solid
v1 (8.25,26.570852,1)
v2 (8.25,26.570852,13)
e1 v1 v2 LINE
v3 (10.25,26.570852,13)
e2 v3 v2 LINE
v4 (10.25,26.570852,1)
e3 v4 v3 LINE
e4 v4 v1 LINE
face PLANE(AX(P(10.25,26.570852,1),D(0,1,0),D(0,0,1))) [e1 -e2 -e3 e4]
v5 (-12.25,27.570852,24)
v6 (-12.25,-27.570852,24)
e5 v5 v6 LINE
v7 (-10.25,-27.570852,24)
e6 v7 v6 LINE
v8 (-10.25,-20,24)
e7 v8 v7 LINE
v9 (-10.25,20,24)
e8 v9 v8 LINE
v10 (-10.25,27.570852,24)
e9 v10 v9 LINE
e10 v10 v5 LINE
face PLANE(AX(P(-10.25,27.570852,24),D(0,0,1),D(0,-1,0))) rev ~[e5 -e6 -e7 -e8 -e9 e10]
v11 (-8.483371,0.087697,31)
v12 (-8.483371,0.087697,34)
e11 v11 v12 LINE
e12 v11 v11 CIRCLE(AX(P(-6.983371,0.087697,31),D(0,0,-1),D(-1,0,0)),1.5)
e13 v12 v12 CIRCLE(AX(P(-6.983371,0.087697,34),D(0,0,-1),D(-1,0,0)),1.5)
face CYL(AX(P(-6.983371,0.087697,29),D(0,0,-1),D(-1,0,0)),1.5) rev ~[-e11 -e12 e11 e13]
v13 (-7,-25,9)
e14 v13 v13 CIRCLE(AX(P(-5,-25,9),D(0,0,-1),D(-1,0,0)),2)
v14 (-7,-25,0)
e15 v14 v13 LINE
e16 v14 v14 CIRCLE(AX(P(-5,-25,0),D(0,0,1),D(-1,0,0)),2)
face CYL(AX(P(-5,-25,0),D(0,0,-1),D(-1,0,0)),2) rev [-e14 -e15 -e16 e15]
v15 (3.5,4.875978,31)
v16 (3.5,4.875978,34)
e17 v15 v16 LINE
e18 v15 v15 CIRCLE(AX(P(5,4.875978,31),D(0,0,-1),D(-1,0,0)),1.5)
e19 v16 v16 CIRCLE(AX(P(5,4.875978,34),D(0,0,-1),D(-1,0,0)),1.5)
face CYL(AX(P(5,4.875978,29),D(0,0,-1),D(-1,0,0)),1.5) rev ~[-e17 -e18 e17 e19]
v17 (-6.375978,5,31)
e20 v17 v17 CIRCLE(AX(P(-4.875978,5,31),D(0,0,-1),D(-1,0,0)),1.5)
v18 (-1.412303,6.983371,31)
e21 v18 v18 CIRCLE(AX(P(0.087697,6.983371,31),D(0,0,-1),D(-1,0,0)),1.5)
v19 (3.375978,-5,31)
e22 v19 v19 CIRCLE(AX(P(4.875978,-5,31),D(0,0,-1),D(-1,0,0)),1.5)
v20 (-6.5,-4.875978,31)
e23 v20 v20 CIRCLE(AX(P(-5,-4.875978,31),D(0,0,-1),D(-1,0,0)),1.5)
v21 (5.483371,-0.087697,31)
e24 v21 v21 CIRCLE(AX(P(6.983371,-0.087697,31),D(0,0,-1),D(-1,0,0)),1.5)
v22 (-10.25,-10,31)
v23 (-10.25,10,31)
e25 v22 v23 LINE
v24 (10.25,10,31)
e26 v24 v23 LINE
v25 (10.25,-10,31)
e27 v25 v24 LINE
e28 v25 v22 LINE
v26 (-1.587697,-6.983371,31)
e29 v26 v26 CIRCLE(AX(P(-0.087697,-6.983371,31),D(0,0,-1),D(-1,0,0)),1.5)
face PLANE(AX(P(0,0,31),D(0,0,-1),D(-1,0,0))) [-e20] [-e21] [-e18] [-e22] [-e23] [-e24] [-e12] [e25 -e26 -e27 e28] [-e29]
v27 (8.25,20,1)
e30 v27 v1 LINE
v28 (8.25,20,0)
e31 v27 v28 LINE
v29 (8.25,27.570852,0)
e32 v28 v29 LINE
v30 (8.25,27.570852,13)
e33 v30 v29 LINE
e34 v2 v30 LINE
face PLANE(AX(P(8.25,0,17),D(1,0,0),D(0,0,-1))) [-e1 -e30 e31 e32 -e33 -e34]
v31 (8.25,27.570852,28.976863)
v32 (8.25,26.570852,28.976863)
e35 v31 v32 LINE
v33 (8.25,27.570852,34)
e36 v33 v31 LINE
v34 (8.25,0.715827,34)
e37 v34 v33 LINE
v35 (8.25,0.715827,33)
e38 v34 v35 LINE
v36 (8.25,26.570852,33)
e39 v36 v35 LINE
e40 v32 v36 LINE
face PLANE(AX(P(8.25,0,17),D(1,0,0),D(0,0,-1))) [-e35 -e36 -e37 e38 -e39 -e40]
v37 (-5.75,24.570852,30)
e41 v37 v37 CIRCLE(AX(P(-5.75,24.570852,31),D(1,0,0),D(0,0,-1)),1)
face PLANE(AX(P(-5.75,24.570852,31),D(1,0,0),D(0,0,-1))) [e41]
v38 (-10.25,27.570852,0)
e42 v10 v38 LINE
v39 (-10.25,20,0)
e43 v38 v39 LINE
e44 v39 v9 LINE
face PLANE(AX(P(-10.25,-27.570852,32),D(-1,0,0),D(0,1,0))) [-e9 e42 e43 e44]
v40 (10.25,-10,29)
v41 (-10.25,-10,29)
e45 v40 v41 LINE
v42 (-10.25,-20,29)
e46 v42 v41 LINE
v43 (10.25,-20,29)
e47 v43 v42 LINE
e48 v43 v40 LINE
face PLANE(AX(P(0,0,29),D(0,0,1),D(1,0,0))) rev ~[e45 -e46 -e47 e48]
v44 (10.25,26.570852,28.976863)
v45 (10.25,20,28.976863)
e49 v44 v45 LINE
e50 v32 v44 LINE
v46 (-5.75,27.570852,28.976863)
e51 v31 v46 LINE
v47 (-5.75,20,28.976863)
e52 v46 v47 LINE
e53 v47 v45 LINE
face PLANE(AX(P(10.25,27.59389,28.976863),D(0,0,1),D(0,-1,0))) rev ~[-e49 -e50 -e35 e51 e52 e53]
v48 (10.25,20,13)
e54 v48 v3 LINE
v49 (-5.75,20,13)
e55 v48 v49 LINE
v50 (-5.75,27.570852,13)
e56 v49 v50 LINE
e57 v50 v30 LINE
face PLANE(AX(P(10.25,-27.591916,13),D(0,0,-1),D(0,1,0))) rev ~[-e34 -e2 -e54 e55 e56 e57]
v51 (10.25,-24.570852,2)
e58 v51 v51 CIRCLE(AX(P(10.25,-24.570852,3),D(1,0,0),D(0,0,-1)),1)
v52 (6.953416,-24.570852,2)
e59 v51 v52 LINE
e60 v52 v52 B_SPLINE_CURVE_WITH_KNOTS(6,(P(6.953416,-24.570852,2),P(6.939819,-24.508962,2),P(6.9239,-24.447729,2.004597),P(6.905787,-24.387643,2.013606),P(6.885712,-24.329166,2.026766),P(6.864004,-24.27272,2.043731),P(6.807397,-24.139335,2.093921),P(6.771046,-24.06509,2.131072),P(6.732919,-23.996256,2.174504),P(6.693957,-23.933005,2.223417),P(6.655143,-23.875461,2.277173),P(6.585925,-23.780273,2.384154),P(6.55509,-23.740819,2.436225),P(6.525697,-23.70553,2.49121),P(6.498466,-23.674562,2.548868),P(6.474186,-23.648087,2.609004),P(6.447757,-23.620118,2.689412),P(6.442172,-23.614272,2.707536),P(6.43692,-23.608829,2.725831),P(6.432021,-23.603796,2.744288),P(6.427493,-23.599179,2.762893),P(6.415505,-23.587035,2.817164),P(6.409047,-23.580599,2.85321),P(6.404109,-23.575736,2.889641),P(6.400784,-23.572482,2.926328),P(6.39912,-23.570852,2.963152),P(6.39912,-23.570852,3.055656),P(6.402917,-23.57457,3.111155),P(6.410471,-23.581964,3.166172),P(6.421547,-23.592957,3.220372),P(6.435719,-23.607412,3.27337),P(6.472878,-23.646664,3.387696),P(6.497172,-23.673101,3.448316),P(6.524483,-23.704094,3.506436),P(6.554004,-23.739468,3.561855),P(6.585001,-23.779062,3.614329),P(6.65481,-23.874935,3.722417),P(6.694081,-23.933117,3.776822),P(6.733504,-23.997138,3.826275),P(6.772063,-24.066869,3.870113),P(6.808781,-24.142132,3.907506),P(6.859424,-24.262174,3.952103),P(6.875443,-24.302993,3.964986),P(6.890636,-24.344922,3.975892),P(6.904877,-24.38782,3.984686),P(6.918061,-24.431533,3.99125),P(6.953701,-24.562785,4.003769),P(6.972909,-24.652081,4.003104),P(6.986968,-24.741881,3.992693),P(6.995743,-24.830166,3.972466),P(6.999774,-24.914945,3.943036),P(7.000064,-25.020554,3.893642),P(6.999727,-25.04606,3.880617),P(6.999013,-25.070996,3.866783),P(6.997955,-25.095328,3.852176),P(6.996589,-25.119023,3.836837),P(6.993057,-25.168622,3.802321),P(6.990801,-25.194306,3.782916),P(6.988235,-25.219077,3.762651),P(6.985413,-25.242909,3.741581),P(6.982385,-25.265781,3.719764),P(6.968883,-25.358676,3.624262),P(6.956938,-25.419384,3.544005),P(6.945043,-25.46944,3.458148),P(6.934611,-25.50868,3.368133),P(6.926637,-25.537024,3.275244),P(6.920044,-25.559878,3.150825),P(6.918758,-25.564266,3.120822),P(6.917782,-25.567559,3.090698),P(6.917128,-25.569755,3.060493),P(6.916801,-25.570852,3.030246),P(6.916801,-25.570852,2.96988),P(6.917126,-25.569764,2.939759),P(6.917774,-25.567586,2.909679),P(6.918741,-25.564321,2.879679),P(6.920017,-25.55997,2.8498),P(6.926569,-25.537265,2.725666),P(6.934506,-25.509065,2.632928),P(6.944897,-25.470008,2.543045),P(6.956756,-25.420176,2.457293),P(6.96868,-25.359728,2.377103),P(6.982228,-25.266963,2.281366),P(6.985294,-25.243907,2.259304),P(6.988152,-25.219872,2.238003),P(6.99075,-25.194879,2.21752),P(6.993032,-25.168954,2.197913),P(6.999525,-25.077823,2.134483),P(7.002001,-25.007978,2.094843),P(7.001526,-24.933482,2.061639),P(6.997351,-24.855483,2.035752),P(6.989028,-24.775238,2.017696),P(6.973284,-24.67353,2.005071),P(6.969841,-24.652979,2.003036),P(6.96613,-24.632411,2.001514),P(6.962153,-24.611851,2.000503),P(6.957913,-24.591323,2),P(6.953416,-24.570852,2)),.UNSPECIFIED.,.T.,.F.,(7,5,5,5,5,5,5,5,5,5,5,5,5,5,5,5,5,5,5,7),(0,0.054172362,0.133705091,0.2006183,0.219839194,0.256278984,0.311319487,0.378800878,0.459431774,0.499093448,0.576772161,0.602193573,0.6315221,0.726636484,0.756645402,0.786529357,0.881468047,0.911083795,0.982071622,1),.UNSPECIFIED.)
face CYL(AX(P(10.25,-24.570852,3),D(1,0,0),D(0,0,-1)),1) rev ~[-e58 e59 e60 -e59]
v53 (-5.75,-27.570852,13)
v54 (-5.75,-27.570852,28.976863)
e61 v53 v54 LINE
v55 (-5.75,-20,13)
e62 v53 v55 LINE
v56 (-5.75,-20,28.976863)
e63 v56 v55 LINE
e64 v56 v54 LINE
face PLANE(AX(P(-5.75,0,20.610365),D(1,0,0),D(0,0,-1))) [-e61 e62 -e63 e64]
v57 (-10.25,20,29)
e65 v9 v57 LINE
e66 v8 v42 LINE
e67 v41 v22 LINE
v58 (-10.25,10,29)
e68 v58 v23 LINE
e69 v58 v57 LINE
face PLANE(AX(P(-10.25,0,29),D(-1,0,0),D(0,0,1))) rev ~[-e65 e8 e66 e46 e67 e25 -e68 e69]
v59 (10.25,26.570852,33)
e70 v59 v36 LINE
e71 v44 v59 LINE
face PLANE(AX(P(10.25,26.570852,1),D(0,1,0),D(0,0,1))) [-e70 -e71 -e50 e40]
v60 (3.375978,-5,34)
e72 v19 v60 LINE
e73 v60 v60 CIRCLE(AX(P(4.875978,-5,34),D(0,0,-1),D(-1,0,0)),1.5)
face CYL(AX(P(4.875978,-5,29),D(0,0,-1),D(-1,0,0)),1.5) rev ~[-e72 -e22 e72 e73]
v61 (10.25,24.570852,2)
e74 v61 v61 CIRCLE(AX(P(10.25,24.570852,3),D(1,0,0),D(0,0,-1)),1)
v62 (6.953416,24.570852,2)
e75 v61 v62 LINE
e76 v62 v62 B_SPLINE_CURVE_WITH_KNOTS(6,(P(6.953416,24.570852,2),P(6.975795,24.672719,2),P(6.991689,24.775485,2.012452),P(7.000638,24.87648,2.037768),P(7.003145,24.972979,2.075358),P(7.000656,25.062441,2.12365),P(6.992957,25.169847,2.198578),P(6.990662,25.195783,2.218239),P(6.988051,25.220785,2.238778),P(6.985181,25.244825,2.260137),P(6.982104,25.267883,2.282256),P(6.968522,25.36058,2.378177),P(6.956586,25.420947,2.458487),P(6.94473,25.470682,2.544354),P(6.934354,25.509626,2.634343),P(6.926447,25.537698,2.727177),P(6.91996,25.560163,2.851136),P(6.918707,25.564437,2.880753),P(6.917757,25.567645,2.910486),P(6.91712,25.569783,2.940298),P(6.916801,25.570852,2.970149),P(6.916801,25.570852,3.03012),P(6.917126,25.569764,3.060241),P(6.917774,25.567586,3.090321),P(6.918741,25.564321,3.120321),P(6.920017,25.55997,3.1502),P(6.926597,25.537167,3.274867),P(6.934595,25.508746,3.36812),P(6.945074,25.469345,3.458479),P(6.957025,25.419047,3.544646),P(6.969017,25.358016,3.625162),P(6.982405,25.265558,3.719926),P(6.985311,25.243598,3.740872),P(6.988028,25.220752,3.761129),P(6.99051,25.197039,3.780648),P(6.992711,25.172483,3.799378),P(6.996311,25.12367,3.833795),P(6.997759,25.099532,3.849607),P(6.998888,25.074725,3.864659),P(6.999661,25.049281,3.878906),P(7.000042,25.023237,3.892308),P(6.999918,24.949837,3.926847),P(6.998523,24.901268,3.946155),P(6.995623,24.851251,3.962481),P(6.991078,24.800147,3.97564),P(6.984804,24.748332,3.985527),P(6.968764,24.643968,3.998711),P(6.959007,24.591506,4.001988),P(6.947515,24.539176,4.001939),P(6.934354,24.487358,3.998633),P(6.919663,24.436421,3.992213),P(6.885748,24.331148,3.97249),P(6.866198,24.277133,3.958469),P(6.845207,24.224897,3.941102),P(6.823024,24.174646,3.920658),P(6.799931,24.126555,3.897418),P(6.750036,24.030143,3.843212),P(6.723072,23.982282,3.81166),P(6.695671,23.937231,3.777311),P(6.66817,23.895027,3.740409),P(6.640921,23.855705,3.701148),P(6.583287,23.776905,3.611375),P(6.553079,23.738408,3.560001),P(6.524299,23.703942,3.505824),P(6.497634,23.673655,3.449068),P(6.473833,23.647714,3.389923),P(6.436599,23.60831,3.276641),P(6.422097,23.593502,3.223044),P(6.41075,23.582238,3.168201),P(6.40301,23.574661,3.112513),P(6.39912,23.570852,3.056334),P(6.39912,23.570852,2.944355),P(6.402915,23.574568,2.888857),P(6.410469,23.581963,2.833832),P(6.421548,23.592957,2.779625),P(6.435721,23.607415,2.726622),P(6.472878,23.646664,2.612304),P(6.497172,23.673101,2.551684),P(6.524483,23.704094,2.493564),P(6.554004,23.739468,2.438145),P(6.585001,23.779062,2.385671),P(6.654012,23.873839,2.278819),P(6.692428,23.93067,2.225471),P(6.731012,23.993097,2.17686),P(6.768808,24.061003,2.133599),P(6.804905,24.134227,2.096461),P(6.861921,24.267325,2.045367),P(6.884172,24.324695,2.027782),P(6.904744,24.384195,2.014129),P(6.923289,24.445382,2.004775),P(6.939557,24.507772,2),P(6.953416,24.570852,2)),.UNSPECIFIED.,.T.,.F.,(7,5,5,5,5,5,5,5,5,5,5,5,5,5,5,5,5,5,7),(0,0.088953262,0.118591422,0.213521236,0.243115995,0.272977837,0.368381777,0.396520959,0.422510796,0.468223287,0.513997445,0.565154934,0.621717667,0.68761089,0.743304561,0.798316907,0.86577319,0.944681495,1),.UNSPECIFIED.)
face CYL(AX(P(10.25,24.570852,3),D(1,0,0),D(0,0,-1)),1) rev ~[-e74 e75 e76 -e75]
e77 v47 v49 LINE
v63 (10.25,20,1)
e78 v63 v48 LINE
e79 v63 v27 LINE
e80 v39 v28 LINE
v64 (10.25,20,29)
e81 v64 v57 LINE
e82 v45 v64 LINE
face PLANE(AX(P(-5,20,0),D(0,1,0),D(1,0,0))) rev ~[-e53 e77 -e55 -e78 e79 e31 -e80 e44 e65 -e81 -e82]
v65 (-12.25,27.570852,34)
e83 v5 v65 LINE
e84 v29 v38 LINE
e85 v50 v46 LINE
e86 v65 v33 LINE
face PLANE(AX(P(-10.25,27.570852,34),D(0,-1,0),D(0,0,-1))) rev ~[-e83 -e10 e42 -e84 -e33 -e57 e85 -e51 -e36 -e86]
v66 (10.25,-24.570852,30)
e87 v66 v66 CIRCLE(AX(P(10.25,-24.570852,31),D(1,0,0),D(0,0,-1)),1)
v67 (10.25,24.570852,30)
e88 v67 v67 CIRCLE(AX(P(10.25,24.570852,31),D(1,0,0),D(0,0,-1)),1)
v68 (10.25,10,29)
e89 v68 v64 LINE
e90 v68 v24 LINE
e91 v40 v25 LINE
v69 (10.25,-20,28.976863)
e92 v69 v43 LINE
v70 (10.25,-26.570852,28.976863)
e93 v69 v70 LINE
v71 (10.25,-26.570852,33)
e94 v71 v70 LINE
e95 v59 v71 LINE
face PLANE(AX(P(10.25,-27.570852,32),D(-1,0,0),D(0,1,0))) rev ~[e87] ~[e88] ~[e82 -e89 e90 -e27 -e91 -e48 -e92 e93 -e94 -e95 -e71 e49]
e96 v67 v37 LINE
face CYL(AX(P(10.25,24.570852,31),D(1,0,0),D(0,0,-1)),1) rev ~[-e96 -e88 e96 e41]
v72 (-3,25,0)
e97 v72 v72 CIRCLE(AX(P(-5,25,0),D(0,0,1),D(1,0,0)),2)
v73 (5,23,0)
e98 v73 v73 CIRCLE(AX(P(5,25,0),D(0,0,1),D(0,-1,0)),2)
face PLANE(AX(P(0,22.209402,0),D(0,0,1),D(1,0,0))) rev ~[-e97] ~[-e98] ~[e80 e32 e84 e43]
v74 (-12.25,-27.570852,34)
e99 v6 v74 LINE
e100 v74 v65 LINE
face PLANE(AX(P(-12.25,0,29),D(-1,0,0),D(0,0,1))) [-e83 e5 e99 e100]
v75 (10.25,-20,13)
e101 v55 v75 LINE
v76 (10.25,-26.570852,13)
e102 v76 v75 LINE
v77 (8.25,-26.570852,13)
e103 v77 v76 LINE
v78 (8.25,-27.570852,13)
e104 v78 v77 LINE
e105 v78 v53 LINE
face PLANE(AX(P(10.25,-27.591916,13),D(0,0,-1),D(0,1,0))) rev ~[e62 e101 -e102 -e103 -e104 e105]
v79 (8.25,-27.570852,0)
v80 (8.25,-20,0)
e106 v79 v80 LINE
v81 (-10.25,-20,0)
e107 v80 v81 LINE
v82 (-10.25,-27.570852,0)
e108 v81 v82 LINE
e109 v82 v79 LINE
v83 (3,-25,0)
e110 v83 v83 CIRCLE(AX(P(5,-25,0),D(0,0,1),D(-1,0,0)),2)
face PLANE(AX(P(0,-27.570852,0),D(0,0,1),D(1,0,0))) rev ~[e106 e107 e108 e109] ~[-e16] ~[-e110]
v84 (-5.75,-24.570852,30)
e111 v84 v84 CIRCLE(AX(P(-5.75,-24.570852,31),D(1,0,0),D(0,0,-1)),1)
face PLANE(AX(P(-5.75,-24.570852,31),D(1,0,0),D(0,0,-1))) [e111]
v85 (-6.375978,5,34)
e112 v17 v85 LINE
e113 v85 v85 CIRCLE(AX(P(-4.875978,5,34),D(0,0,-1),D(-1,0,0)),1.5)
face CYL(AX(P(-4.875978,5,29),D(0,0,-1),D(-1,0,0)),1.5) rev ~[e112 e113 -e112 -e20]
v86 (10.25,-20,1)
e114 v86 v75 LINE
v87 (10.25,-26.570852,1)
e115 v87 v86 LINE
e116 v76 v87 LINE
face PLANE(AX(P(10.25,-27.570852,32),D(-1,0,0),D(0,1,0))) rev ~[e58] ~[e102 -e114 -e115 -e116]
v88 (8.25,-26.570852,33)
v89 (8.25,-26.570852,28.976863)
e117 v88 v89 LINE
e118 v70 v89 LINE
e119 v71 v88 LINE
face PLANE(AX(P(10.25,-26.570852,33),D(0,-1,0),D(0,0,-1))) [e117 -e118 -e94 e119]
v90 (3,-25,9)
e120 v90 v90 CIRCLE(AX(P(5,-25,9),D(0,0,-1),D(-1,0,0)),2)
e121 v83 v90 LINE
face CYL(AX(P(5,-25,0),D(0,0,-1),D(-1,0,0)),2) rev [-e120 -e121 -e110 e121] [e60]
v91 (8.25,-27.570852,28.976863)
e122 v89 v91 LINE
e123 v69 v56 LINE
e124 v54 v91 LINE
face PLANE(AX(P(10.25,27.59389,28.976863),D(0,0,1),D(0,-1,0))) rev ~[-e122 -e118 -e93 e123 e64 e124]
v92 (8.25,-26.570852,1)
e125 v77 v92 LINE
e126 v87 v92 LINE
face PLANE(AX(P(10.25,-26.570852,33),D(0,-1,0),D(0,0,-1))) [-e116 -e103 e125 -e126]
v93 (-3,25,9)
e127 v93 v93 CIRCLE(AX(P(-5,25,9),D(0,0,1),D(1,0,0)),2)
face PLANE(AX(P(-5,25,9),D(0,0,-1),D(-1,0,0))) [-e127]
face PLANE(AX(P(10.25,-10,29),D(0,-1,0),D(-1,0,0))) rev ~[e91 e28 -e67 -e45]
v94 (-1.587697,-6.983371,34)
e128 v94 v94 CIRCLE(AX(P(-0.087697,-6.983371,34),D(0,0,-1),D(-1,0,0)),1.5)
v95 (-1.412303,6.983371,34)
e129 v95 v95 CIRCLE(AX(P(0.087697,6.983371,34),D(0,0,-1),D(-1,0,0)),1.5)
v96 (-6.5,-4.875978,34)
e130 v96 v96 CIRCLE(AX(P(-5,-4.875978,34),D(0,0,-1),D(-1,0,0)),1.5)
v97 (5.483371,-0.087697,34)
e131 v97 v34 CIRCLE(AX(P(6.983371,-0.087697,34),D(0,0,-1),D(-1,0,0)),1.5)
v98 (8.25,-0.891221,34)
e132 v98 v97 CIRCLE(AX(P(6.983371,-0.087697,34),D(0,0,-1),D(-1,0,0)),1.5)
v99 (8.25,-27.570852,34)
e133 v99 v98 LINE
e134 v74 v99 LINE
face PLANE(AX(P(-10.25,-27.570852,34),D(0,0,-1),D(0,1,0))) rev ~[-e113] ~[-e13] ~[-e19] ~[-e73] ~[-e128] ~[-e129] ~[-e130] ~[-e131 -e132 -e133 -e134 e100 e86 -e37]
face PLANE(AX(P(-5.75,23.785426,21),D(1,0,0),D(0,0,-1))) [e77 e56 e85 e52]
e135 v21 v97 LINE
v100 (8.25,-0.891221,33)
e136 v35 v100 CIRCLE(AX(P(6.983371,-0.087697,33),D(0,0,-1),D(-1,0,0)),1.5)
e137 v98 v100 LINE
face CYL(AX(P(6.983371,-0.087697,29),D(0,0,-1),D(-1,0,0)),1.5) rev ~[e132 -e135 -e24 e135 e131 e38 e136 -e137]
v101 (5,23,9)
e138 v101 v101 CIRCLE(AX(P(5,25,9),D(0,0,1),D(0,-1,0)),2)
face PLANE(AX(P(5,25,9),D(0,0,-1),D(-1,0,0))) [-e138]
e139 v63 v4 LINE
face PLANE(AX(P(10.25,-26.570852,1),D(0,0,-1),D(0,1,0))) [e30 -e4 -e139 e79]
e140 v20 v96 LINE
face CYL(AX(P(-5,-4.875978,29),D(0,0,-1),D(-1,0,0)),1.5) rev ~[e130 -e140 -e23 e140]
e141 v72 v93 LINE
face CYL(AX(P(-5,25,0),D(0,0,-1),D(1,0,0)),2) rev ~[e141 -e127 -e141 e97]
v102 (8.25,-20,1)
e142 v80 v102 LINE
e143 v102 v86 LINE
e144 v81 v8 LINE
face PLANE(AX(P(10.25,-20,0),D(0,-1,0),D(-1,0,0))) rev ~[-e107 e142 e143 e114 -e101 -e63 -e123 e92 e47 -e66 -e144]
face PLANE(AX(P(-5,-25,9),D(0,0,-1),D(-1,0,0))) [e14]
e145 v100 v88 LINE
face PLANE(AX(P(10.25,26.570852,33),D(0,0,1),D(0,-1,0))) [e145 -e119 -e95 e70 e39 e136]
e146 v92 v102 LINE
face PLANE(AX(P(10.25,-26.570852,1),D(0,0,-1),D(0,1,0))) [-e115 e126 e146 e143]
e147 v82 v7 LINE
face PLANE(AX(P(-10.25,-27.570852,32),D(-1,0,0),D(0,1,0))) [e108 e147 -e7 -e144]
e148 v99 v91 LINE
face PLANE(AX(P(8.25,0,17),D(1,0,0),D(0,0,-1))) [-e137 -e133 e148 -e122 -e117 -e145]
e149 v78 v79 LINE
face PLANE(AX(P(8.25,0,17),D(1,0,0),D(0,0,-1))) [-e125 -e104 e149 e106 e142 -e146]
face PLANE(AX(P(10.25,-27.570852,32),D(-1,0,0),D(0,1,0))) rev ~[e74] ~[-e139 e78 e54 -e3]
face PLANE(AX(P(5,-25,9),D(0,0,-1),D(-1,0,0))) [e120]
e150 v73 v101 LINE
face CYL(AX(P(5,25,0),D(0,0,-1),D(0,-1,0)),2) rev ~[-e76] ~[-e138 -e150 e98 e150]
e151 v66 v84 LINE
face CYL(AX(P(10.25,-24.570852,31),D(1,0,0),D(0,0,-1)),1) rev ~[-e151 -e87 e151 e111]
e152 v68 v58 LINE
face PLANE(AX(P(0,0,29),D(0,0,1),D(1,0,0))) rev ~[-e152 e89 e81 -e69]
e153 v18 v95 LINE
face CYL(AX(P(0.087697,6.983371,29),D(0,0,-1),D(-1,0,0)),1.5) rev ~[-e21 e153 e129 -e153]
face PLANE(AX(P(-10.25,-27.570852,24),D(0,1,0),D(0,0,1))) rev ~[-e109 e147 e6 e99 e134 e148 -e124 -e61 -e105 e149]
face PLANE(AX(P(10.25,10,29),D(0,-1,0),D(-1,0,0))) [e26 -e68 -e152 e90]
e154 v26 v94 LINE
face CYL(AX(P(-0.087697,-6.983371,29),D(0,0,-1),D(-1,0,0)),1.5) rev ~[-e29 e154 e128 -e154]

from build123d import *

# Parameters (mm, degrees)
SKETCH_1_R           = 2.000000000000001
EXTRUDE_1_DEPTH      = 29
SKETCH_2_W           = 20.5
SKETCH_2_H           = 70.28340969233892
EXTRUDE_2_DEPTH      = 3
SKETCH_3_W           = 20.5
SKETCH_3_H           = 7.570852423084727
CUT_EXTRUDE_1_DEPTH  = 49.62100286394029
SKETCH_5_R           = 2.5
EXTRUDE_3_DEPTH      = 10
CUT_EXTRUDE_2_REACH  = 75.297
SKETCH_8_R           = 1.6000000000000003
SKETCH_9_W           = 20.5
SKETCH_9_H           = 32
CUT_EXTRUDE_3_DEPTH  = 65.57298284377197
SKETCH_12_W          = 20.499999999999996
SKETCH_12_H          = 7.57085242308473
SKETCH_12_R          = 2.0000000000000018
SKETCH_12_R_2        = 2.000000000000001
EXTRUDE_5_DEPTH      = 30
EXTRUDE_6_DEPTH      = 10
SKETCH_16_R          = 1.5000000000000004
CUT_EXTRUDE_5_DEPTH  = 48.388093987806805
SKETCH_17_R          = 1.5000000000000004
CUT_EXTRUDE_6_DEPTH  = 51.404676958704755
EXTRUDE_START        = 10
SKETCH_19_R          = 4
SKETCH_19_R_2        = 2.5000000000000004
EXTRUDE_7_DEPTH      = 10
SKETCH_21_R          = 1.5000000000000004
CUT_EXTRUDE_7_DEPTH  = 48.38809406709012
SKETCH_22_R          = 1.5000000000000004
CUT_EXTRUDE_8_DEPTH  = 51.404676958704755
SKETCH_23_W          = 20.5
SKETCH_23_H          = 55.141704846169446
EXTRUDE_8_DEPTH      = 2
EXTRUDE_9_DEPTH      = 2
CUT_EXTRUDE_9_DEPTH  = 16
EXTRUDE_START_2      = 20
SKETCH_26_R          = 2.000000000000003
SKETCH_26_R_2        = 2.000000000000001
SKETCH_26_R_3        = 2.000000000000002
EXTRUDE_10_DEPTH     = 20
SKETCH_27_W          = 16
SKETCH_27_H          = 8.000000000000007
CUT_EXTRUDE_10_DEPTH = 75.49499461906014
SKETCH_29_W          = 34
SKETCH_29_H          = 55.14170484616947
CUT_EXTRUDE_11_DEPTH = 2
SKETCH_32_W          = 3.9768627953179667
SKETCH_32_H          = 6.57085242308473
CUT_EXTRUDE_13_DEPTH = 16
SKETCH_33_R          = 1.0000000000000018
CUT_EXTRUDE_14_DEPTH = 16
SKETCH_35_R          = 1.0000000000000004
CUT_EXTRUDE_15_DEPTH = 5
SKETCH_36_R          = 2.65
CUT_EXTRUDE_16_DEPTH = 10
CUT_EXTRUDE_START    = -10
SKETCH_37_R          = 2.65
CUT_EXTRUDE_17_DEPTH = 10
SKETCH_38_W          = 22.5
SKETCH_38_H          = 55.14170484616945
CUT_EXTRUDE_18_DEPTH = 50.01664477615112
SKETCH_39_R          = 1.5000000000000002
SKETCH_39_R_2        = 1.5
SKETCH_39_R_3        = 1.5000000000000004
SKETCH_39_R_4        = 1.4999999999999998
SKETCH_39_R_5        = 1.5000000000000007
SKETCH_39_R_6        = 1.4999999999999996
CUT_EXTRUDE_22_DEPTH = 5
SKETCH_41_W          = 20.499999999999993
SKETCH_41_H          = 20
CUT_EXTRUDE_23_DEPTH = 2


with BuildPart() as part:
    # 草图1 → 凸台-拉伸1 (new body)
    # profile 1 of 3: a face of its own
    with BuildSketch(Plane.XY):
        with BuildLine():
            Line((-10.250000000000004, 35.14170484616946), (-10.250000000000004, 20))
            Line((-10.25, 20.000000000000004), (-4.999999999999999, 20.000000000000004))
            Line((-4.999999999999999, 20.000000000000004), (-4.999999999999999, 23.000000000000004))
            ThreePointArc((-5.000000000000001, 23.000000000000004), (-6.414213562373094, 26.4142135623731), (-2.9999999999999982, 25.000000000000004))
            Line((-2.9999999999999982, 25.000000000000004), (3, 25.000000000000004))
            ThreePointArc((3, 25.000000000000004), (5.000000000000001, 27.000000000000004), (7.000000000000002, 25.000000000000004))
            ThreePointArc((7.000000000000002, 25.000000000000004), (6.414213562373095, 23.585786437626908), (4.999999999999999, 23.000000000000004))
            Line((5.000000000000001, 23.000000000000004), (5.000000000000001, 20.000000000000004))
            Line((5, 20.000000000000004), (10.249999999999996, 20.000000000000004))
            Line((10.249999999999996, 20), (10.249999999999996, 35.14170484616946))
            Line((10.249999999999996, 35.14170484616946), (-10.250000000000004, 35.14170484616946))
        make_face()
    # profile 2 of 3: a face of its own
    with BuildSketch(Plane.XY):
        Polygon((10.249999999999996, -20), (-10.25, -20), (-10.250000000000004, -35.14170484616946), (10.249999999999996, -35.14170484616946), align=None)
        with Locations(Location((-4.999999999999999, -25.000000000000004, 0), (0, 0, 180))):
            Circle(SKETCH_1_R, mode=Mode.SUBTRACT)
        with Locations(Location((5.000000000000001, -25.000000000000004, 0), (0, 0, 180))):
            Circle(SKETCH_1_R, mode=Mode.SUBTRACT)
    # profile 3 of 3: a face of its own
    with BuildSketch(Plane.XY):
        with BuildLine():
            Line((-4.999999999999999, 23.000000000000004), (-4.999999999999999, 20.000000000000004))
            Line((-4.999999999999999, 20.000000000000004), (5, 20.000000000000004))
            Line((5.000000000000001, 20.000000000000004), (5.000000000000001, 23.000000000000004))
            ThreePointArc((4.999999999999999, 23.000000000000004), (3.585786437626904, 23.585786437626908), (3, 25.000000000000004))
            Line((3, 25.000000000000004), (-2.9999999999999982, 25.000000000000004))
            ThreePointArc((-2.9999999999999982, 25.000000000000004), (-3.585786437626905, 23.585786437626908), (-5.000000000000001, 23.000000000000004))
        make_face()
    extrude(amount=EXTRUDE_1_DEPTH)

    # 草图2 → 凸台-拉伸2 (add)
    with BuildSketch(Plane.XY.offset(29)):
        Rectangle(SKETCH_2_W, SKETCH_2_H)
    extrude(amount=EXTRUDE_2_DEPTH)

    # 草图3 → 切除-拉伸1 (cut, through all)
    with BuildSketch(Plane(origin=(0, 0, 0), x_dir=(-1, 0, 0), z_dir=(0, 0, -1))):
        with Locations((3.55e-15, -31.356278634627095)):
            Rectangle(SKETCH_3_W, SKETCH_3_H)
        Polygon((-10.249999999999996, 35.14170484616946), (-10.249999999999996, 27.57085242308473), (10.250000000000004, 27.570852423084734), (10.250000000000004, 35.14170484616946), align=None)
    extrude(amount=-CUT_EXTRUDE_1_DEPTH, mode=Mode.SUBTRACT)

    # 草图5 → 凸台-拉伸3 (add)
    with BuildSketch(Plane.XZ.offset(27.570852423084734)):
        with Locations(Location((0, 2.5, 0), (0, 0, 270))):
            Circle(SKETCH_5_R)
    extrude(amount=EXTRUDE_3_DEPTH)

    # 草图8 → 切除-拉伸2 (cut, up to next)
    with BuildSketch(Plane(origin=(0, 27.570852423084734, 0), x_dir=(1, 0, 0), z_dir=(0, 1, 0)), mode=Mode.PRIVATE) as cut_extrude_2_sk1:
        with Locations(Location((1.71e-15, -16.5, 0), (0, 0, 270))):
            Circle(SKETCH_8_R)
    cut_extrude_2_tool1 = extrude(cut_extrude_2_sk1.sketch, amount=-CUT_EXTRUDE_2_REACH, mode=Mode.PRIVATE) & part.part
    # 草图8 → 切除-拉伸2 (cut, up to next)
    with BuildSketch(Plane(origin=(0, 27.570852423084734, 0), x_dir=(1, 0, 0), z_dir=(0, 1, 0)), mode=Mode.PRIVATE) as cut_extrude_2_sk2:
        with Locations(Location((1.22e-15, -26.500000000000004, 0), (0, 0, 270))):
            Circle(SKETCH_8_R)
    cut_extrude_2_tool2 = extrude(cut_extrude_2_sk2.sketch, amount=-CUT_EXTRUDE_2_REACH, mode=Mode.PRIVATE) & part.part
    add(cut_extrude_2_tool1.solids().sort_by_distance((0, 27.570852, 16.5))[0], mode=Mode.SUBTRACT)
    add(cut_extrude_2_tool2.solids().sort_by_distance((0, 27.570852, 26.5))[0], mode=Mode.SUBTRACT)

    # 草图9 → 切除-拉伸3 (cut, through all)
    with BuildSketch(Plane.XZ.offset(27.570852423084734)):
        with Locations((-3.55e-15, 16)):
            Rectangle(SKETCH_9_W, SKETCH_9_H)
    extrude(amount=CUT_EXTRUDE_3_DEPTH, mode=Mode.SUBTRACT)

    # 草图12 → 凸台-拉伸5 (add)
    with BuildSketch(Plane(origin=(0, 0, 0), x_dir=(-1, 0, 0), z_dir=(0, 0, -1))):
        with Locations((1.78e-15, 23.78542621154237)):
            Rectangle(SKETCH_12_W, SKETCH_12_H)
        with Locations((-5.000000000000001, 25.000000000000004)):
            Circle(SKETCH_12_R, mode=Mode.SUBTRACT)
        with Locations((4.999999999999999, 25.000000000000004)):
            Circle(SKETCH_12_R_2, mode=Mode.SUBTRACT)
    extrude(amount=-EXTRUDE_5_DEPTH)

    # 草图13 → 凸台-拉伸6 (add)
    with BuildSketch(Plane(origin=(0, 27.570852423084734, 0), x_dir=(1, 0, 0), z_dir=(0, 1, 0))):
        with BuildLine():
            ThreePointArc((4.456e-14, -7.5), (-2.5, -5.000000000000058), (-7.084e-14, -2.4999999999999996))
            Line((-1.4e-16, -2.4999999999999996), (-5e-17, -1))
            ThreePointArc((7.635e-14, -1), (-3.9999999999999996, -4.999999999999907), (-1.067e-13, -9))
            Line((-4.9e-16, -9), (-4.1e-16, -7.5))
        make_face()
        with BuildLine():
            Line((-5e-17, -1), (-1.4e-16, -2.4999999999999996))
            ThreePointArc((-7.084e-14, -2.4999999999999996), (1.7677669529663447, -3.2322330470336054), (2.500000000000001, -5))
            ThreePointArc((2.500000000000001, -5.000000000000001), (1.767766952966385, -6.767766952966354), (4.456e-14, -7.5))
            Line((-4.1e-16, -7.5), (-4.9e-16, -9))
            ThreePointArc((-1.067e-13, -9), (2.828427124746152, -7.828427124746229), (4.000000000000001, -5.000000000000001))
            ThreePointArc((4.000000000000001, -5), (2.8284271247462174, -2.171572875253837), (7.635e-14, -1))
        make_face()
    extrude(amount=EXTRUDE_6_DEPTH)

    # 草图15 → 旋转1 (revolve)
    with BuildSketch(Plane(origin=(0, 0, 0), x_dir=(0, 0, -1), z_dir=(1, 0, 0))):
        with BuildLine():
            Line((-1, 27.570852423084734), (0, 27.570852423084734))
            ThreePointArc((0, 27.570852423084734), (-0.7128919117369903, 27.930797461014013), (-1, 28.676011694509246))
            Line((-1, 28.676011694509246), (-1, 27.570852423084734))
        make_face()
    revolve(axis=Axis((0, -962.4291475769152, 4.99999999999657), (0, 1, 3.43e-15)))

    # 草图16 → 切除-拉伸5 (cut, through all)
    with BuildSketch(Plane.XY.offset(5)):
        with Locations(Location((4.9e-16, 33.57085242308473, 0), (0, 0, 90))):
            Circle(SKETCH_16_R)
    extrude(amount=-CUT_EXTRUDE_5_DEPTH, mode=Mode.SUBTRACT)

    # 草图17 → 切除-拉伸6 (cut, through all)
    with BuildSketch(Plane(origin=(0, 0, 0), x_dir=(0, 0, -1), z_dir=(1, 0, 0))):
        with Locations((-5, 33.57085242308473)):
            Circle(SKETCH_17_R)
    extrude(amount=-CUT_EXTRUDE_6_DEPTH, mode=Mode.SUBTRACT)

    # 草图19 → 凸台-拉伸7 (add)
    with BuildSketch(Plane.XZ.offset(27.570852423084734).offset(EXTRUDE_START)):
        with Locations(Location((0, 4.999999999999998, 0), (0, 0, 270))):
            Circle(SKETCH_19_R)
        with Locations(Location((0, 4.999999999999998, 0), (0, 0, 90))):
            Circle(SKETCH_19_R_2, mode=Mode.SUBTRACT)
    extrude(amount=-EXTRUDE_7_DEPTH)

    # 草图20 → 旋转2 (revolve)
    with BuildSketch(Plane(origin=(0, 0, 0), x_dir=(0, 0, -1), z_dir=(1, 0, 0))):
        with BuildLine():
            Line((-0.9999999999999983, -27.570852423084734), (0, -27.570852423084734))
            ThreePointArc((0, -27.570852423084734), (-0.7071067811865462, -27.863745641898188), (-0.9999999999999981, -28.570852423084734))
            Line((-0.9999999999999981, -28.570852423084734), (-0.9999999999999983, -27.570852423084734))
        make_face()
    revolve(axis=Axis((0, -1027.5708524230847, 4.999999999996567), (0, 1, 3.43e-15)))

    # 草图21 → 切除-拉伸7 (cut, through all)
    with BuildSketch(Plane.XY.offset(5)):
        with Locations((0, -33.57085242308473)):
            Circle(SKETCH_21_R)
    extrude(amount=-CUT_EXTRUDE_7_DEPTH, mode=Mode.SUBTRACT)

    # 草图22 → 切除-拉伸8 (cut, through all)
    with BuildSketch(Plane(origin=(0, 0, 0), x_dir=(0, 0, -1), z_dir=(1, 0, 0))):
        with Locations((-5, -33.57085242308473)):
            Circle(SKETCH_22_R)
    extrude(amount=-CUT_EXTRUDE_8_DEPTH, mode=Mode.SUBTRACT)

    # 草图23 → 凸台-拉伸8 (add)
    with BuildSketch(Plane.XY.offset(32)):
        Rectangle(SKETCH_23_W, SKETCH_23_H)
    extrude(amount=EXTRUDE_8_DEPTH)

    # 草图24 → 凸台-拉伸9 (add)
    with BuildSketch(Plane.ZY.offset(10.250000000000004)):
        Polygon((34, 27.570852423084734), (24, 27.570852423084734), (24.000000000000007, -27.570852423084713), (34, -27.57085242308472), align=None)
    extrude(amount=EXTRUDE_9_DEPTH)

    # 草图25 → 切除-拉伸9 (cut)
    with BuildSketch(Plane(origin=(10.249999999999996, 0, 0), x_dir=(0, 0, -1), z_dir=(1, 0, 0))):
        Polygon((-17, -20), (-25.000000000000004, -20), (-25.000000000000004, -27.570852423084713), (-17, -27.570852423084723), align=None)
        Polygon((-21.000000000000004, 27.570852423084734), (-25.000000000000004, 27.570852423084734), (-25.000000000000004, 20.000000000000004), (-17.000000000000004, 20.000000000000004), (-17.000000000000004, 27.570852423084734), align=None)
    extrude(amount=-CUT_EXTRUDE_9_DEPTH, mode=Mode.SUBTRACT)

    # 草图26 → 凸台-拉伸10 (add)
    with BuildSketch(Plane(origin=(0, 0, 29), x_dir=(-1, 0, 0), z_dir=(0, 0, -1)).offset(EXTRUDE_START_2)):
        with Locations((-5.000000000000001, 25.000000000000004)):
            Circle(SKETCH_26_R)
        with Locations((4.999999999999999, 25.000000000000004)):
            Circle(SKETCH_26_R_2)
        with Locations((-5.000000000000001, -25.000000000000004)):
            Circle(SKETCH_26_R_3)
        with Locations((4.999999999999999, -25.000000000000004)):
            Circle(SKETCH_26_R_2)
    extrude(amount=-EXTRUDE_10_DEPTH)

    # 草图27 → 切除-拉伸10 (cut, through all)
    with BuildSketch(Plane.XZ.offset(27.570852423084734)):
        with Locations((2.2499999999999964, 21.000000000000004)):
            Rectangle(SKETCH_27_W, SKETCH_27_H)
    extrude(amount=-CUT_EXTRUDE_10_DEPTH, mode=Mode.SUBTRACT)

    # 草图29 → 切除-拉伸11 (cut)
    with BuildSketch(Plane(origin=(10.249999999999996, 0, 0), x_dir=(0, 0, -1), z_dir=(1, 0, 0))):
        with Locations((-17, 0)):
            Rectangle(SKETCH_29_W, SKETCH_29_H)
        Polygon((-33, 26.570852423084734), (-33, -26.570852423084734), (-1, -26.570852423084734), (-1.0000000000000009, 26.570852423084734), align=None, mode=Mode.SUBTRACT)
    extrude(amount=-CUT_EXTRUDE_11_DEPTH, mode=Mode.SUBTRACT)

    # 草图32 → 切除-拉伸13 (cut)
    with BuildSketch(Plane(origin=(10.249999999999996, 0, 0), x_dir=(0, 0, -1), z_dir=(1, 0, 0))):
        Polygon((-13, 26.570852423084734), (-25.000000000000004, 26.570852423084734), (-25.000000000000004, 20.000000000000004), (-28.97686279531797, 20.000000000000004), (-28.97686279531797, -19.999999999999996), (-25.000000000000004, -20), (-25.000000000000004, -26.570852423084734), (-12.999999999999993, -26.570852423084734), align=None)
        with Locations((-26.988431397658985, 23.28542621154237)):
            Rectangle(SKETCH_32_W, SKETCH_32_H)
        Polygon((-28.97686279531797, -19.999999999999996), (-28.97686279531797, -26.570852423084734), (-25.000000000000004, -26.570852423084734), (-25.000000000000004, -20), align=None)
        Polygon((-25.000000000000004, -26.570852423084734), (-28.97686279531797, -26.570852423084734), (-28.97686279531797, -27.59191586273335), (-12.999999999999995, -27.59191586273335), (-12.999999999999995, -26.57085242308473), align=None)
        Polygon((-28.97686279531797, 27.59388998719103), (-28.97686279531797, 26.570852423084734), (-25.000000000000004, 26.570852423084734), (-13, 26.570852423084734), (-12.999999999999995, 27.59388998719103), align=None)
    extrude(amount=-CUT_EXTRUDE_13_DEPTH, mode=Mode.SUBTRACT)

    # 草图33 → 切除-拉伸14 (cut)
    with BuildSketch(Plane(origin=(10.249999999999996, 0, 0), x_dir=(0, 0, -1), z_dir=(1, 0, 0))):
        with Locations((-31, 24.57085242308473)):
            Circle(SKETCH_33_R)
        with Locations((-31, -24.57085242308473)):
            Circle(SKETCH_33_R)
    extrude(amount=-CUT_EXTRUDE_14_DEPTH, mode=Mode.SUBTRACT)

    # 草图35 → 切除-拉伸15 (cut)
    with BuildSketch(Plane(origin=(10.249999999999996, 0, 0), x_dir=(0, 0, -1), z_dir=(1, 0, 0))):
        with Locations((-3.000000000000001, 24.57085242308473)):
            Circle(SKETCH_35_R)
        with Locations((-3, -24.57085242308473)):
            Circle(SKETCH_35_R)
    extrude(amount=-CUT_EXTRUDE_15_DEPTH, mode=Mode.SUBTRACT)

    # 草图36 → 切除-拉伸16 (cut)
    with BuildSketch(Plane.XZ.offset(37.57085242308474)):
        with Locations(Location((0, 4.999999999999998, 0), (0, 0, 270))):
            Circle(SKETCH_36_R)
    extrude(amount=-CUT_EXTRUDE_16_DEPTH, mode=Mode.SUBTRACT)

    # 草图37 → 切除-拉伸17 (cut)
    with BuildSketch(Plane(origin=(0, 37.57085242308474, 0), x_dir=(1, 0, 0), z_dir=(0, 1, 0)).offset(CUT_EXTRUDE_START)):
        with Locations(Location((0, -4.999999999999965, 0), (0, 0, 90))):
            Circle(SKETCH_37_R)
    extrude(amount=CUT_EXTRUDE_17_DEPTH, mode=Mode.SUBTRACT)

    # 草图38 → 切除-拉伸18 (cut, through all)
    with BuildSketch(Plane(origin=(0, 0, 29), x_dir=(-1, 0, 0), z_dir=(0, 0, -1))):
        Polygon((-67.73698273316278, 75.48551434956308), (54.96450412174318, 75.48551434956308), (54.9645041217432, -71.43548167539623), (-67.73698273316278, -71.43548167539623), align=None)
        with Locations((1.0000000000000036, 7.11e-15)):
            Rectangle(SKETCH_38_W, SKETCH_38_H, mode=Mode.SUBTRACT)
    extrude(amount=CUT_EXTRUDE_18_DEPTH, mode=Mode.SUBTRACT)

    # 草图39 → 切除-拉伸22 (cut)
    with BuildSketch(Plane(origin=(0, 0, 29), x_dir=(-1, 0, 0), z_dir=(0, 0, -1))):
        with Locations((6.983370748804627, 0.08769706306081382)):
            Circle(SKETCH_39_R)
        with Locations((0.08769706306078953, -6.983370748804625)):
            Circle(SKETCH_39_R)
        with Locations((-6.983370748804625, -0.08769706306076437)):
            Circle(SKETCH_39_R_2)
        with Locations((-4.999999999999999, 4.8759776240390575)):
            Circle(SKETCH_39_R)
        with Locations((-0.08769706306083723, 6.983370748804625)):
            Circle(SKETCH_39_R_3)
        with Locations((4.875977624039074, 4.999999999999982)):
            Circle(SKETCH_39_R_4)
        with Locations((4.999999999999967, -4.875977624039092)):
            Circle(SKETCH_39_R_5)
        with Locations((-4.875977624039108, -4.9999999999999485)):
            Circle(SKETCH_39_R_6)
    extrude(amount=-CUT_EXTRUDE_22_DEPTH, mode=Mode.SUBTRACT)

    # 草图41 → 切除-拉伸23 (cut)
    with BuildSketch(Plane(origin=(0, 0, 29), x_dir=(-1, 0, 0), z_dir=(0, 0, -1))):
        Rectangle(SKETCH_41_W, SKETCH_41_H)
    extrude(amount=-CUT_EXTRUDE_23_DEPTH, mode=Mode.SUBTRACT)


solid = part.part
